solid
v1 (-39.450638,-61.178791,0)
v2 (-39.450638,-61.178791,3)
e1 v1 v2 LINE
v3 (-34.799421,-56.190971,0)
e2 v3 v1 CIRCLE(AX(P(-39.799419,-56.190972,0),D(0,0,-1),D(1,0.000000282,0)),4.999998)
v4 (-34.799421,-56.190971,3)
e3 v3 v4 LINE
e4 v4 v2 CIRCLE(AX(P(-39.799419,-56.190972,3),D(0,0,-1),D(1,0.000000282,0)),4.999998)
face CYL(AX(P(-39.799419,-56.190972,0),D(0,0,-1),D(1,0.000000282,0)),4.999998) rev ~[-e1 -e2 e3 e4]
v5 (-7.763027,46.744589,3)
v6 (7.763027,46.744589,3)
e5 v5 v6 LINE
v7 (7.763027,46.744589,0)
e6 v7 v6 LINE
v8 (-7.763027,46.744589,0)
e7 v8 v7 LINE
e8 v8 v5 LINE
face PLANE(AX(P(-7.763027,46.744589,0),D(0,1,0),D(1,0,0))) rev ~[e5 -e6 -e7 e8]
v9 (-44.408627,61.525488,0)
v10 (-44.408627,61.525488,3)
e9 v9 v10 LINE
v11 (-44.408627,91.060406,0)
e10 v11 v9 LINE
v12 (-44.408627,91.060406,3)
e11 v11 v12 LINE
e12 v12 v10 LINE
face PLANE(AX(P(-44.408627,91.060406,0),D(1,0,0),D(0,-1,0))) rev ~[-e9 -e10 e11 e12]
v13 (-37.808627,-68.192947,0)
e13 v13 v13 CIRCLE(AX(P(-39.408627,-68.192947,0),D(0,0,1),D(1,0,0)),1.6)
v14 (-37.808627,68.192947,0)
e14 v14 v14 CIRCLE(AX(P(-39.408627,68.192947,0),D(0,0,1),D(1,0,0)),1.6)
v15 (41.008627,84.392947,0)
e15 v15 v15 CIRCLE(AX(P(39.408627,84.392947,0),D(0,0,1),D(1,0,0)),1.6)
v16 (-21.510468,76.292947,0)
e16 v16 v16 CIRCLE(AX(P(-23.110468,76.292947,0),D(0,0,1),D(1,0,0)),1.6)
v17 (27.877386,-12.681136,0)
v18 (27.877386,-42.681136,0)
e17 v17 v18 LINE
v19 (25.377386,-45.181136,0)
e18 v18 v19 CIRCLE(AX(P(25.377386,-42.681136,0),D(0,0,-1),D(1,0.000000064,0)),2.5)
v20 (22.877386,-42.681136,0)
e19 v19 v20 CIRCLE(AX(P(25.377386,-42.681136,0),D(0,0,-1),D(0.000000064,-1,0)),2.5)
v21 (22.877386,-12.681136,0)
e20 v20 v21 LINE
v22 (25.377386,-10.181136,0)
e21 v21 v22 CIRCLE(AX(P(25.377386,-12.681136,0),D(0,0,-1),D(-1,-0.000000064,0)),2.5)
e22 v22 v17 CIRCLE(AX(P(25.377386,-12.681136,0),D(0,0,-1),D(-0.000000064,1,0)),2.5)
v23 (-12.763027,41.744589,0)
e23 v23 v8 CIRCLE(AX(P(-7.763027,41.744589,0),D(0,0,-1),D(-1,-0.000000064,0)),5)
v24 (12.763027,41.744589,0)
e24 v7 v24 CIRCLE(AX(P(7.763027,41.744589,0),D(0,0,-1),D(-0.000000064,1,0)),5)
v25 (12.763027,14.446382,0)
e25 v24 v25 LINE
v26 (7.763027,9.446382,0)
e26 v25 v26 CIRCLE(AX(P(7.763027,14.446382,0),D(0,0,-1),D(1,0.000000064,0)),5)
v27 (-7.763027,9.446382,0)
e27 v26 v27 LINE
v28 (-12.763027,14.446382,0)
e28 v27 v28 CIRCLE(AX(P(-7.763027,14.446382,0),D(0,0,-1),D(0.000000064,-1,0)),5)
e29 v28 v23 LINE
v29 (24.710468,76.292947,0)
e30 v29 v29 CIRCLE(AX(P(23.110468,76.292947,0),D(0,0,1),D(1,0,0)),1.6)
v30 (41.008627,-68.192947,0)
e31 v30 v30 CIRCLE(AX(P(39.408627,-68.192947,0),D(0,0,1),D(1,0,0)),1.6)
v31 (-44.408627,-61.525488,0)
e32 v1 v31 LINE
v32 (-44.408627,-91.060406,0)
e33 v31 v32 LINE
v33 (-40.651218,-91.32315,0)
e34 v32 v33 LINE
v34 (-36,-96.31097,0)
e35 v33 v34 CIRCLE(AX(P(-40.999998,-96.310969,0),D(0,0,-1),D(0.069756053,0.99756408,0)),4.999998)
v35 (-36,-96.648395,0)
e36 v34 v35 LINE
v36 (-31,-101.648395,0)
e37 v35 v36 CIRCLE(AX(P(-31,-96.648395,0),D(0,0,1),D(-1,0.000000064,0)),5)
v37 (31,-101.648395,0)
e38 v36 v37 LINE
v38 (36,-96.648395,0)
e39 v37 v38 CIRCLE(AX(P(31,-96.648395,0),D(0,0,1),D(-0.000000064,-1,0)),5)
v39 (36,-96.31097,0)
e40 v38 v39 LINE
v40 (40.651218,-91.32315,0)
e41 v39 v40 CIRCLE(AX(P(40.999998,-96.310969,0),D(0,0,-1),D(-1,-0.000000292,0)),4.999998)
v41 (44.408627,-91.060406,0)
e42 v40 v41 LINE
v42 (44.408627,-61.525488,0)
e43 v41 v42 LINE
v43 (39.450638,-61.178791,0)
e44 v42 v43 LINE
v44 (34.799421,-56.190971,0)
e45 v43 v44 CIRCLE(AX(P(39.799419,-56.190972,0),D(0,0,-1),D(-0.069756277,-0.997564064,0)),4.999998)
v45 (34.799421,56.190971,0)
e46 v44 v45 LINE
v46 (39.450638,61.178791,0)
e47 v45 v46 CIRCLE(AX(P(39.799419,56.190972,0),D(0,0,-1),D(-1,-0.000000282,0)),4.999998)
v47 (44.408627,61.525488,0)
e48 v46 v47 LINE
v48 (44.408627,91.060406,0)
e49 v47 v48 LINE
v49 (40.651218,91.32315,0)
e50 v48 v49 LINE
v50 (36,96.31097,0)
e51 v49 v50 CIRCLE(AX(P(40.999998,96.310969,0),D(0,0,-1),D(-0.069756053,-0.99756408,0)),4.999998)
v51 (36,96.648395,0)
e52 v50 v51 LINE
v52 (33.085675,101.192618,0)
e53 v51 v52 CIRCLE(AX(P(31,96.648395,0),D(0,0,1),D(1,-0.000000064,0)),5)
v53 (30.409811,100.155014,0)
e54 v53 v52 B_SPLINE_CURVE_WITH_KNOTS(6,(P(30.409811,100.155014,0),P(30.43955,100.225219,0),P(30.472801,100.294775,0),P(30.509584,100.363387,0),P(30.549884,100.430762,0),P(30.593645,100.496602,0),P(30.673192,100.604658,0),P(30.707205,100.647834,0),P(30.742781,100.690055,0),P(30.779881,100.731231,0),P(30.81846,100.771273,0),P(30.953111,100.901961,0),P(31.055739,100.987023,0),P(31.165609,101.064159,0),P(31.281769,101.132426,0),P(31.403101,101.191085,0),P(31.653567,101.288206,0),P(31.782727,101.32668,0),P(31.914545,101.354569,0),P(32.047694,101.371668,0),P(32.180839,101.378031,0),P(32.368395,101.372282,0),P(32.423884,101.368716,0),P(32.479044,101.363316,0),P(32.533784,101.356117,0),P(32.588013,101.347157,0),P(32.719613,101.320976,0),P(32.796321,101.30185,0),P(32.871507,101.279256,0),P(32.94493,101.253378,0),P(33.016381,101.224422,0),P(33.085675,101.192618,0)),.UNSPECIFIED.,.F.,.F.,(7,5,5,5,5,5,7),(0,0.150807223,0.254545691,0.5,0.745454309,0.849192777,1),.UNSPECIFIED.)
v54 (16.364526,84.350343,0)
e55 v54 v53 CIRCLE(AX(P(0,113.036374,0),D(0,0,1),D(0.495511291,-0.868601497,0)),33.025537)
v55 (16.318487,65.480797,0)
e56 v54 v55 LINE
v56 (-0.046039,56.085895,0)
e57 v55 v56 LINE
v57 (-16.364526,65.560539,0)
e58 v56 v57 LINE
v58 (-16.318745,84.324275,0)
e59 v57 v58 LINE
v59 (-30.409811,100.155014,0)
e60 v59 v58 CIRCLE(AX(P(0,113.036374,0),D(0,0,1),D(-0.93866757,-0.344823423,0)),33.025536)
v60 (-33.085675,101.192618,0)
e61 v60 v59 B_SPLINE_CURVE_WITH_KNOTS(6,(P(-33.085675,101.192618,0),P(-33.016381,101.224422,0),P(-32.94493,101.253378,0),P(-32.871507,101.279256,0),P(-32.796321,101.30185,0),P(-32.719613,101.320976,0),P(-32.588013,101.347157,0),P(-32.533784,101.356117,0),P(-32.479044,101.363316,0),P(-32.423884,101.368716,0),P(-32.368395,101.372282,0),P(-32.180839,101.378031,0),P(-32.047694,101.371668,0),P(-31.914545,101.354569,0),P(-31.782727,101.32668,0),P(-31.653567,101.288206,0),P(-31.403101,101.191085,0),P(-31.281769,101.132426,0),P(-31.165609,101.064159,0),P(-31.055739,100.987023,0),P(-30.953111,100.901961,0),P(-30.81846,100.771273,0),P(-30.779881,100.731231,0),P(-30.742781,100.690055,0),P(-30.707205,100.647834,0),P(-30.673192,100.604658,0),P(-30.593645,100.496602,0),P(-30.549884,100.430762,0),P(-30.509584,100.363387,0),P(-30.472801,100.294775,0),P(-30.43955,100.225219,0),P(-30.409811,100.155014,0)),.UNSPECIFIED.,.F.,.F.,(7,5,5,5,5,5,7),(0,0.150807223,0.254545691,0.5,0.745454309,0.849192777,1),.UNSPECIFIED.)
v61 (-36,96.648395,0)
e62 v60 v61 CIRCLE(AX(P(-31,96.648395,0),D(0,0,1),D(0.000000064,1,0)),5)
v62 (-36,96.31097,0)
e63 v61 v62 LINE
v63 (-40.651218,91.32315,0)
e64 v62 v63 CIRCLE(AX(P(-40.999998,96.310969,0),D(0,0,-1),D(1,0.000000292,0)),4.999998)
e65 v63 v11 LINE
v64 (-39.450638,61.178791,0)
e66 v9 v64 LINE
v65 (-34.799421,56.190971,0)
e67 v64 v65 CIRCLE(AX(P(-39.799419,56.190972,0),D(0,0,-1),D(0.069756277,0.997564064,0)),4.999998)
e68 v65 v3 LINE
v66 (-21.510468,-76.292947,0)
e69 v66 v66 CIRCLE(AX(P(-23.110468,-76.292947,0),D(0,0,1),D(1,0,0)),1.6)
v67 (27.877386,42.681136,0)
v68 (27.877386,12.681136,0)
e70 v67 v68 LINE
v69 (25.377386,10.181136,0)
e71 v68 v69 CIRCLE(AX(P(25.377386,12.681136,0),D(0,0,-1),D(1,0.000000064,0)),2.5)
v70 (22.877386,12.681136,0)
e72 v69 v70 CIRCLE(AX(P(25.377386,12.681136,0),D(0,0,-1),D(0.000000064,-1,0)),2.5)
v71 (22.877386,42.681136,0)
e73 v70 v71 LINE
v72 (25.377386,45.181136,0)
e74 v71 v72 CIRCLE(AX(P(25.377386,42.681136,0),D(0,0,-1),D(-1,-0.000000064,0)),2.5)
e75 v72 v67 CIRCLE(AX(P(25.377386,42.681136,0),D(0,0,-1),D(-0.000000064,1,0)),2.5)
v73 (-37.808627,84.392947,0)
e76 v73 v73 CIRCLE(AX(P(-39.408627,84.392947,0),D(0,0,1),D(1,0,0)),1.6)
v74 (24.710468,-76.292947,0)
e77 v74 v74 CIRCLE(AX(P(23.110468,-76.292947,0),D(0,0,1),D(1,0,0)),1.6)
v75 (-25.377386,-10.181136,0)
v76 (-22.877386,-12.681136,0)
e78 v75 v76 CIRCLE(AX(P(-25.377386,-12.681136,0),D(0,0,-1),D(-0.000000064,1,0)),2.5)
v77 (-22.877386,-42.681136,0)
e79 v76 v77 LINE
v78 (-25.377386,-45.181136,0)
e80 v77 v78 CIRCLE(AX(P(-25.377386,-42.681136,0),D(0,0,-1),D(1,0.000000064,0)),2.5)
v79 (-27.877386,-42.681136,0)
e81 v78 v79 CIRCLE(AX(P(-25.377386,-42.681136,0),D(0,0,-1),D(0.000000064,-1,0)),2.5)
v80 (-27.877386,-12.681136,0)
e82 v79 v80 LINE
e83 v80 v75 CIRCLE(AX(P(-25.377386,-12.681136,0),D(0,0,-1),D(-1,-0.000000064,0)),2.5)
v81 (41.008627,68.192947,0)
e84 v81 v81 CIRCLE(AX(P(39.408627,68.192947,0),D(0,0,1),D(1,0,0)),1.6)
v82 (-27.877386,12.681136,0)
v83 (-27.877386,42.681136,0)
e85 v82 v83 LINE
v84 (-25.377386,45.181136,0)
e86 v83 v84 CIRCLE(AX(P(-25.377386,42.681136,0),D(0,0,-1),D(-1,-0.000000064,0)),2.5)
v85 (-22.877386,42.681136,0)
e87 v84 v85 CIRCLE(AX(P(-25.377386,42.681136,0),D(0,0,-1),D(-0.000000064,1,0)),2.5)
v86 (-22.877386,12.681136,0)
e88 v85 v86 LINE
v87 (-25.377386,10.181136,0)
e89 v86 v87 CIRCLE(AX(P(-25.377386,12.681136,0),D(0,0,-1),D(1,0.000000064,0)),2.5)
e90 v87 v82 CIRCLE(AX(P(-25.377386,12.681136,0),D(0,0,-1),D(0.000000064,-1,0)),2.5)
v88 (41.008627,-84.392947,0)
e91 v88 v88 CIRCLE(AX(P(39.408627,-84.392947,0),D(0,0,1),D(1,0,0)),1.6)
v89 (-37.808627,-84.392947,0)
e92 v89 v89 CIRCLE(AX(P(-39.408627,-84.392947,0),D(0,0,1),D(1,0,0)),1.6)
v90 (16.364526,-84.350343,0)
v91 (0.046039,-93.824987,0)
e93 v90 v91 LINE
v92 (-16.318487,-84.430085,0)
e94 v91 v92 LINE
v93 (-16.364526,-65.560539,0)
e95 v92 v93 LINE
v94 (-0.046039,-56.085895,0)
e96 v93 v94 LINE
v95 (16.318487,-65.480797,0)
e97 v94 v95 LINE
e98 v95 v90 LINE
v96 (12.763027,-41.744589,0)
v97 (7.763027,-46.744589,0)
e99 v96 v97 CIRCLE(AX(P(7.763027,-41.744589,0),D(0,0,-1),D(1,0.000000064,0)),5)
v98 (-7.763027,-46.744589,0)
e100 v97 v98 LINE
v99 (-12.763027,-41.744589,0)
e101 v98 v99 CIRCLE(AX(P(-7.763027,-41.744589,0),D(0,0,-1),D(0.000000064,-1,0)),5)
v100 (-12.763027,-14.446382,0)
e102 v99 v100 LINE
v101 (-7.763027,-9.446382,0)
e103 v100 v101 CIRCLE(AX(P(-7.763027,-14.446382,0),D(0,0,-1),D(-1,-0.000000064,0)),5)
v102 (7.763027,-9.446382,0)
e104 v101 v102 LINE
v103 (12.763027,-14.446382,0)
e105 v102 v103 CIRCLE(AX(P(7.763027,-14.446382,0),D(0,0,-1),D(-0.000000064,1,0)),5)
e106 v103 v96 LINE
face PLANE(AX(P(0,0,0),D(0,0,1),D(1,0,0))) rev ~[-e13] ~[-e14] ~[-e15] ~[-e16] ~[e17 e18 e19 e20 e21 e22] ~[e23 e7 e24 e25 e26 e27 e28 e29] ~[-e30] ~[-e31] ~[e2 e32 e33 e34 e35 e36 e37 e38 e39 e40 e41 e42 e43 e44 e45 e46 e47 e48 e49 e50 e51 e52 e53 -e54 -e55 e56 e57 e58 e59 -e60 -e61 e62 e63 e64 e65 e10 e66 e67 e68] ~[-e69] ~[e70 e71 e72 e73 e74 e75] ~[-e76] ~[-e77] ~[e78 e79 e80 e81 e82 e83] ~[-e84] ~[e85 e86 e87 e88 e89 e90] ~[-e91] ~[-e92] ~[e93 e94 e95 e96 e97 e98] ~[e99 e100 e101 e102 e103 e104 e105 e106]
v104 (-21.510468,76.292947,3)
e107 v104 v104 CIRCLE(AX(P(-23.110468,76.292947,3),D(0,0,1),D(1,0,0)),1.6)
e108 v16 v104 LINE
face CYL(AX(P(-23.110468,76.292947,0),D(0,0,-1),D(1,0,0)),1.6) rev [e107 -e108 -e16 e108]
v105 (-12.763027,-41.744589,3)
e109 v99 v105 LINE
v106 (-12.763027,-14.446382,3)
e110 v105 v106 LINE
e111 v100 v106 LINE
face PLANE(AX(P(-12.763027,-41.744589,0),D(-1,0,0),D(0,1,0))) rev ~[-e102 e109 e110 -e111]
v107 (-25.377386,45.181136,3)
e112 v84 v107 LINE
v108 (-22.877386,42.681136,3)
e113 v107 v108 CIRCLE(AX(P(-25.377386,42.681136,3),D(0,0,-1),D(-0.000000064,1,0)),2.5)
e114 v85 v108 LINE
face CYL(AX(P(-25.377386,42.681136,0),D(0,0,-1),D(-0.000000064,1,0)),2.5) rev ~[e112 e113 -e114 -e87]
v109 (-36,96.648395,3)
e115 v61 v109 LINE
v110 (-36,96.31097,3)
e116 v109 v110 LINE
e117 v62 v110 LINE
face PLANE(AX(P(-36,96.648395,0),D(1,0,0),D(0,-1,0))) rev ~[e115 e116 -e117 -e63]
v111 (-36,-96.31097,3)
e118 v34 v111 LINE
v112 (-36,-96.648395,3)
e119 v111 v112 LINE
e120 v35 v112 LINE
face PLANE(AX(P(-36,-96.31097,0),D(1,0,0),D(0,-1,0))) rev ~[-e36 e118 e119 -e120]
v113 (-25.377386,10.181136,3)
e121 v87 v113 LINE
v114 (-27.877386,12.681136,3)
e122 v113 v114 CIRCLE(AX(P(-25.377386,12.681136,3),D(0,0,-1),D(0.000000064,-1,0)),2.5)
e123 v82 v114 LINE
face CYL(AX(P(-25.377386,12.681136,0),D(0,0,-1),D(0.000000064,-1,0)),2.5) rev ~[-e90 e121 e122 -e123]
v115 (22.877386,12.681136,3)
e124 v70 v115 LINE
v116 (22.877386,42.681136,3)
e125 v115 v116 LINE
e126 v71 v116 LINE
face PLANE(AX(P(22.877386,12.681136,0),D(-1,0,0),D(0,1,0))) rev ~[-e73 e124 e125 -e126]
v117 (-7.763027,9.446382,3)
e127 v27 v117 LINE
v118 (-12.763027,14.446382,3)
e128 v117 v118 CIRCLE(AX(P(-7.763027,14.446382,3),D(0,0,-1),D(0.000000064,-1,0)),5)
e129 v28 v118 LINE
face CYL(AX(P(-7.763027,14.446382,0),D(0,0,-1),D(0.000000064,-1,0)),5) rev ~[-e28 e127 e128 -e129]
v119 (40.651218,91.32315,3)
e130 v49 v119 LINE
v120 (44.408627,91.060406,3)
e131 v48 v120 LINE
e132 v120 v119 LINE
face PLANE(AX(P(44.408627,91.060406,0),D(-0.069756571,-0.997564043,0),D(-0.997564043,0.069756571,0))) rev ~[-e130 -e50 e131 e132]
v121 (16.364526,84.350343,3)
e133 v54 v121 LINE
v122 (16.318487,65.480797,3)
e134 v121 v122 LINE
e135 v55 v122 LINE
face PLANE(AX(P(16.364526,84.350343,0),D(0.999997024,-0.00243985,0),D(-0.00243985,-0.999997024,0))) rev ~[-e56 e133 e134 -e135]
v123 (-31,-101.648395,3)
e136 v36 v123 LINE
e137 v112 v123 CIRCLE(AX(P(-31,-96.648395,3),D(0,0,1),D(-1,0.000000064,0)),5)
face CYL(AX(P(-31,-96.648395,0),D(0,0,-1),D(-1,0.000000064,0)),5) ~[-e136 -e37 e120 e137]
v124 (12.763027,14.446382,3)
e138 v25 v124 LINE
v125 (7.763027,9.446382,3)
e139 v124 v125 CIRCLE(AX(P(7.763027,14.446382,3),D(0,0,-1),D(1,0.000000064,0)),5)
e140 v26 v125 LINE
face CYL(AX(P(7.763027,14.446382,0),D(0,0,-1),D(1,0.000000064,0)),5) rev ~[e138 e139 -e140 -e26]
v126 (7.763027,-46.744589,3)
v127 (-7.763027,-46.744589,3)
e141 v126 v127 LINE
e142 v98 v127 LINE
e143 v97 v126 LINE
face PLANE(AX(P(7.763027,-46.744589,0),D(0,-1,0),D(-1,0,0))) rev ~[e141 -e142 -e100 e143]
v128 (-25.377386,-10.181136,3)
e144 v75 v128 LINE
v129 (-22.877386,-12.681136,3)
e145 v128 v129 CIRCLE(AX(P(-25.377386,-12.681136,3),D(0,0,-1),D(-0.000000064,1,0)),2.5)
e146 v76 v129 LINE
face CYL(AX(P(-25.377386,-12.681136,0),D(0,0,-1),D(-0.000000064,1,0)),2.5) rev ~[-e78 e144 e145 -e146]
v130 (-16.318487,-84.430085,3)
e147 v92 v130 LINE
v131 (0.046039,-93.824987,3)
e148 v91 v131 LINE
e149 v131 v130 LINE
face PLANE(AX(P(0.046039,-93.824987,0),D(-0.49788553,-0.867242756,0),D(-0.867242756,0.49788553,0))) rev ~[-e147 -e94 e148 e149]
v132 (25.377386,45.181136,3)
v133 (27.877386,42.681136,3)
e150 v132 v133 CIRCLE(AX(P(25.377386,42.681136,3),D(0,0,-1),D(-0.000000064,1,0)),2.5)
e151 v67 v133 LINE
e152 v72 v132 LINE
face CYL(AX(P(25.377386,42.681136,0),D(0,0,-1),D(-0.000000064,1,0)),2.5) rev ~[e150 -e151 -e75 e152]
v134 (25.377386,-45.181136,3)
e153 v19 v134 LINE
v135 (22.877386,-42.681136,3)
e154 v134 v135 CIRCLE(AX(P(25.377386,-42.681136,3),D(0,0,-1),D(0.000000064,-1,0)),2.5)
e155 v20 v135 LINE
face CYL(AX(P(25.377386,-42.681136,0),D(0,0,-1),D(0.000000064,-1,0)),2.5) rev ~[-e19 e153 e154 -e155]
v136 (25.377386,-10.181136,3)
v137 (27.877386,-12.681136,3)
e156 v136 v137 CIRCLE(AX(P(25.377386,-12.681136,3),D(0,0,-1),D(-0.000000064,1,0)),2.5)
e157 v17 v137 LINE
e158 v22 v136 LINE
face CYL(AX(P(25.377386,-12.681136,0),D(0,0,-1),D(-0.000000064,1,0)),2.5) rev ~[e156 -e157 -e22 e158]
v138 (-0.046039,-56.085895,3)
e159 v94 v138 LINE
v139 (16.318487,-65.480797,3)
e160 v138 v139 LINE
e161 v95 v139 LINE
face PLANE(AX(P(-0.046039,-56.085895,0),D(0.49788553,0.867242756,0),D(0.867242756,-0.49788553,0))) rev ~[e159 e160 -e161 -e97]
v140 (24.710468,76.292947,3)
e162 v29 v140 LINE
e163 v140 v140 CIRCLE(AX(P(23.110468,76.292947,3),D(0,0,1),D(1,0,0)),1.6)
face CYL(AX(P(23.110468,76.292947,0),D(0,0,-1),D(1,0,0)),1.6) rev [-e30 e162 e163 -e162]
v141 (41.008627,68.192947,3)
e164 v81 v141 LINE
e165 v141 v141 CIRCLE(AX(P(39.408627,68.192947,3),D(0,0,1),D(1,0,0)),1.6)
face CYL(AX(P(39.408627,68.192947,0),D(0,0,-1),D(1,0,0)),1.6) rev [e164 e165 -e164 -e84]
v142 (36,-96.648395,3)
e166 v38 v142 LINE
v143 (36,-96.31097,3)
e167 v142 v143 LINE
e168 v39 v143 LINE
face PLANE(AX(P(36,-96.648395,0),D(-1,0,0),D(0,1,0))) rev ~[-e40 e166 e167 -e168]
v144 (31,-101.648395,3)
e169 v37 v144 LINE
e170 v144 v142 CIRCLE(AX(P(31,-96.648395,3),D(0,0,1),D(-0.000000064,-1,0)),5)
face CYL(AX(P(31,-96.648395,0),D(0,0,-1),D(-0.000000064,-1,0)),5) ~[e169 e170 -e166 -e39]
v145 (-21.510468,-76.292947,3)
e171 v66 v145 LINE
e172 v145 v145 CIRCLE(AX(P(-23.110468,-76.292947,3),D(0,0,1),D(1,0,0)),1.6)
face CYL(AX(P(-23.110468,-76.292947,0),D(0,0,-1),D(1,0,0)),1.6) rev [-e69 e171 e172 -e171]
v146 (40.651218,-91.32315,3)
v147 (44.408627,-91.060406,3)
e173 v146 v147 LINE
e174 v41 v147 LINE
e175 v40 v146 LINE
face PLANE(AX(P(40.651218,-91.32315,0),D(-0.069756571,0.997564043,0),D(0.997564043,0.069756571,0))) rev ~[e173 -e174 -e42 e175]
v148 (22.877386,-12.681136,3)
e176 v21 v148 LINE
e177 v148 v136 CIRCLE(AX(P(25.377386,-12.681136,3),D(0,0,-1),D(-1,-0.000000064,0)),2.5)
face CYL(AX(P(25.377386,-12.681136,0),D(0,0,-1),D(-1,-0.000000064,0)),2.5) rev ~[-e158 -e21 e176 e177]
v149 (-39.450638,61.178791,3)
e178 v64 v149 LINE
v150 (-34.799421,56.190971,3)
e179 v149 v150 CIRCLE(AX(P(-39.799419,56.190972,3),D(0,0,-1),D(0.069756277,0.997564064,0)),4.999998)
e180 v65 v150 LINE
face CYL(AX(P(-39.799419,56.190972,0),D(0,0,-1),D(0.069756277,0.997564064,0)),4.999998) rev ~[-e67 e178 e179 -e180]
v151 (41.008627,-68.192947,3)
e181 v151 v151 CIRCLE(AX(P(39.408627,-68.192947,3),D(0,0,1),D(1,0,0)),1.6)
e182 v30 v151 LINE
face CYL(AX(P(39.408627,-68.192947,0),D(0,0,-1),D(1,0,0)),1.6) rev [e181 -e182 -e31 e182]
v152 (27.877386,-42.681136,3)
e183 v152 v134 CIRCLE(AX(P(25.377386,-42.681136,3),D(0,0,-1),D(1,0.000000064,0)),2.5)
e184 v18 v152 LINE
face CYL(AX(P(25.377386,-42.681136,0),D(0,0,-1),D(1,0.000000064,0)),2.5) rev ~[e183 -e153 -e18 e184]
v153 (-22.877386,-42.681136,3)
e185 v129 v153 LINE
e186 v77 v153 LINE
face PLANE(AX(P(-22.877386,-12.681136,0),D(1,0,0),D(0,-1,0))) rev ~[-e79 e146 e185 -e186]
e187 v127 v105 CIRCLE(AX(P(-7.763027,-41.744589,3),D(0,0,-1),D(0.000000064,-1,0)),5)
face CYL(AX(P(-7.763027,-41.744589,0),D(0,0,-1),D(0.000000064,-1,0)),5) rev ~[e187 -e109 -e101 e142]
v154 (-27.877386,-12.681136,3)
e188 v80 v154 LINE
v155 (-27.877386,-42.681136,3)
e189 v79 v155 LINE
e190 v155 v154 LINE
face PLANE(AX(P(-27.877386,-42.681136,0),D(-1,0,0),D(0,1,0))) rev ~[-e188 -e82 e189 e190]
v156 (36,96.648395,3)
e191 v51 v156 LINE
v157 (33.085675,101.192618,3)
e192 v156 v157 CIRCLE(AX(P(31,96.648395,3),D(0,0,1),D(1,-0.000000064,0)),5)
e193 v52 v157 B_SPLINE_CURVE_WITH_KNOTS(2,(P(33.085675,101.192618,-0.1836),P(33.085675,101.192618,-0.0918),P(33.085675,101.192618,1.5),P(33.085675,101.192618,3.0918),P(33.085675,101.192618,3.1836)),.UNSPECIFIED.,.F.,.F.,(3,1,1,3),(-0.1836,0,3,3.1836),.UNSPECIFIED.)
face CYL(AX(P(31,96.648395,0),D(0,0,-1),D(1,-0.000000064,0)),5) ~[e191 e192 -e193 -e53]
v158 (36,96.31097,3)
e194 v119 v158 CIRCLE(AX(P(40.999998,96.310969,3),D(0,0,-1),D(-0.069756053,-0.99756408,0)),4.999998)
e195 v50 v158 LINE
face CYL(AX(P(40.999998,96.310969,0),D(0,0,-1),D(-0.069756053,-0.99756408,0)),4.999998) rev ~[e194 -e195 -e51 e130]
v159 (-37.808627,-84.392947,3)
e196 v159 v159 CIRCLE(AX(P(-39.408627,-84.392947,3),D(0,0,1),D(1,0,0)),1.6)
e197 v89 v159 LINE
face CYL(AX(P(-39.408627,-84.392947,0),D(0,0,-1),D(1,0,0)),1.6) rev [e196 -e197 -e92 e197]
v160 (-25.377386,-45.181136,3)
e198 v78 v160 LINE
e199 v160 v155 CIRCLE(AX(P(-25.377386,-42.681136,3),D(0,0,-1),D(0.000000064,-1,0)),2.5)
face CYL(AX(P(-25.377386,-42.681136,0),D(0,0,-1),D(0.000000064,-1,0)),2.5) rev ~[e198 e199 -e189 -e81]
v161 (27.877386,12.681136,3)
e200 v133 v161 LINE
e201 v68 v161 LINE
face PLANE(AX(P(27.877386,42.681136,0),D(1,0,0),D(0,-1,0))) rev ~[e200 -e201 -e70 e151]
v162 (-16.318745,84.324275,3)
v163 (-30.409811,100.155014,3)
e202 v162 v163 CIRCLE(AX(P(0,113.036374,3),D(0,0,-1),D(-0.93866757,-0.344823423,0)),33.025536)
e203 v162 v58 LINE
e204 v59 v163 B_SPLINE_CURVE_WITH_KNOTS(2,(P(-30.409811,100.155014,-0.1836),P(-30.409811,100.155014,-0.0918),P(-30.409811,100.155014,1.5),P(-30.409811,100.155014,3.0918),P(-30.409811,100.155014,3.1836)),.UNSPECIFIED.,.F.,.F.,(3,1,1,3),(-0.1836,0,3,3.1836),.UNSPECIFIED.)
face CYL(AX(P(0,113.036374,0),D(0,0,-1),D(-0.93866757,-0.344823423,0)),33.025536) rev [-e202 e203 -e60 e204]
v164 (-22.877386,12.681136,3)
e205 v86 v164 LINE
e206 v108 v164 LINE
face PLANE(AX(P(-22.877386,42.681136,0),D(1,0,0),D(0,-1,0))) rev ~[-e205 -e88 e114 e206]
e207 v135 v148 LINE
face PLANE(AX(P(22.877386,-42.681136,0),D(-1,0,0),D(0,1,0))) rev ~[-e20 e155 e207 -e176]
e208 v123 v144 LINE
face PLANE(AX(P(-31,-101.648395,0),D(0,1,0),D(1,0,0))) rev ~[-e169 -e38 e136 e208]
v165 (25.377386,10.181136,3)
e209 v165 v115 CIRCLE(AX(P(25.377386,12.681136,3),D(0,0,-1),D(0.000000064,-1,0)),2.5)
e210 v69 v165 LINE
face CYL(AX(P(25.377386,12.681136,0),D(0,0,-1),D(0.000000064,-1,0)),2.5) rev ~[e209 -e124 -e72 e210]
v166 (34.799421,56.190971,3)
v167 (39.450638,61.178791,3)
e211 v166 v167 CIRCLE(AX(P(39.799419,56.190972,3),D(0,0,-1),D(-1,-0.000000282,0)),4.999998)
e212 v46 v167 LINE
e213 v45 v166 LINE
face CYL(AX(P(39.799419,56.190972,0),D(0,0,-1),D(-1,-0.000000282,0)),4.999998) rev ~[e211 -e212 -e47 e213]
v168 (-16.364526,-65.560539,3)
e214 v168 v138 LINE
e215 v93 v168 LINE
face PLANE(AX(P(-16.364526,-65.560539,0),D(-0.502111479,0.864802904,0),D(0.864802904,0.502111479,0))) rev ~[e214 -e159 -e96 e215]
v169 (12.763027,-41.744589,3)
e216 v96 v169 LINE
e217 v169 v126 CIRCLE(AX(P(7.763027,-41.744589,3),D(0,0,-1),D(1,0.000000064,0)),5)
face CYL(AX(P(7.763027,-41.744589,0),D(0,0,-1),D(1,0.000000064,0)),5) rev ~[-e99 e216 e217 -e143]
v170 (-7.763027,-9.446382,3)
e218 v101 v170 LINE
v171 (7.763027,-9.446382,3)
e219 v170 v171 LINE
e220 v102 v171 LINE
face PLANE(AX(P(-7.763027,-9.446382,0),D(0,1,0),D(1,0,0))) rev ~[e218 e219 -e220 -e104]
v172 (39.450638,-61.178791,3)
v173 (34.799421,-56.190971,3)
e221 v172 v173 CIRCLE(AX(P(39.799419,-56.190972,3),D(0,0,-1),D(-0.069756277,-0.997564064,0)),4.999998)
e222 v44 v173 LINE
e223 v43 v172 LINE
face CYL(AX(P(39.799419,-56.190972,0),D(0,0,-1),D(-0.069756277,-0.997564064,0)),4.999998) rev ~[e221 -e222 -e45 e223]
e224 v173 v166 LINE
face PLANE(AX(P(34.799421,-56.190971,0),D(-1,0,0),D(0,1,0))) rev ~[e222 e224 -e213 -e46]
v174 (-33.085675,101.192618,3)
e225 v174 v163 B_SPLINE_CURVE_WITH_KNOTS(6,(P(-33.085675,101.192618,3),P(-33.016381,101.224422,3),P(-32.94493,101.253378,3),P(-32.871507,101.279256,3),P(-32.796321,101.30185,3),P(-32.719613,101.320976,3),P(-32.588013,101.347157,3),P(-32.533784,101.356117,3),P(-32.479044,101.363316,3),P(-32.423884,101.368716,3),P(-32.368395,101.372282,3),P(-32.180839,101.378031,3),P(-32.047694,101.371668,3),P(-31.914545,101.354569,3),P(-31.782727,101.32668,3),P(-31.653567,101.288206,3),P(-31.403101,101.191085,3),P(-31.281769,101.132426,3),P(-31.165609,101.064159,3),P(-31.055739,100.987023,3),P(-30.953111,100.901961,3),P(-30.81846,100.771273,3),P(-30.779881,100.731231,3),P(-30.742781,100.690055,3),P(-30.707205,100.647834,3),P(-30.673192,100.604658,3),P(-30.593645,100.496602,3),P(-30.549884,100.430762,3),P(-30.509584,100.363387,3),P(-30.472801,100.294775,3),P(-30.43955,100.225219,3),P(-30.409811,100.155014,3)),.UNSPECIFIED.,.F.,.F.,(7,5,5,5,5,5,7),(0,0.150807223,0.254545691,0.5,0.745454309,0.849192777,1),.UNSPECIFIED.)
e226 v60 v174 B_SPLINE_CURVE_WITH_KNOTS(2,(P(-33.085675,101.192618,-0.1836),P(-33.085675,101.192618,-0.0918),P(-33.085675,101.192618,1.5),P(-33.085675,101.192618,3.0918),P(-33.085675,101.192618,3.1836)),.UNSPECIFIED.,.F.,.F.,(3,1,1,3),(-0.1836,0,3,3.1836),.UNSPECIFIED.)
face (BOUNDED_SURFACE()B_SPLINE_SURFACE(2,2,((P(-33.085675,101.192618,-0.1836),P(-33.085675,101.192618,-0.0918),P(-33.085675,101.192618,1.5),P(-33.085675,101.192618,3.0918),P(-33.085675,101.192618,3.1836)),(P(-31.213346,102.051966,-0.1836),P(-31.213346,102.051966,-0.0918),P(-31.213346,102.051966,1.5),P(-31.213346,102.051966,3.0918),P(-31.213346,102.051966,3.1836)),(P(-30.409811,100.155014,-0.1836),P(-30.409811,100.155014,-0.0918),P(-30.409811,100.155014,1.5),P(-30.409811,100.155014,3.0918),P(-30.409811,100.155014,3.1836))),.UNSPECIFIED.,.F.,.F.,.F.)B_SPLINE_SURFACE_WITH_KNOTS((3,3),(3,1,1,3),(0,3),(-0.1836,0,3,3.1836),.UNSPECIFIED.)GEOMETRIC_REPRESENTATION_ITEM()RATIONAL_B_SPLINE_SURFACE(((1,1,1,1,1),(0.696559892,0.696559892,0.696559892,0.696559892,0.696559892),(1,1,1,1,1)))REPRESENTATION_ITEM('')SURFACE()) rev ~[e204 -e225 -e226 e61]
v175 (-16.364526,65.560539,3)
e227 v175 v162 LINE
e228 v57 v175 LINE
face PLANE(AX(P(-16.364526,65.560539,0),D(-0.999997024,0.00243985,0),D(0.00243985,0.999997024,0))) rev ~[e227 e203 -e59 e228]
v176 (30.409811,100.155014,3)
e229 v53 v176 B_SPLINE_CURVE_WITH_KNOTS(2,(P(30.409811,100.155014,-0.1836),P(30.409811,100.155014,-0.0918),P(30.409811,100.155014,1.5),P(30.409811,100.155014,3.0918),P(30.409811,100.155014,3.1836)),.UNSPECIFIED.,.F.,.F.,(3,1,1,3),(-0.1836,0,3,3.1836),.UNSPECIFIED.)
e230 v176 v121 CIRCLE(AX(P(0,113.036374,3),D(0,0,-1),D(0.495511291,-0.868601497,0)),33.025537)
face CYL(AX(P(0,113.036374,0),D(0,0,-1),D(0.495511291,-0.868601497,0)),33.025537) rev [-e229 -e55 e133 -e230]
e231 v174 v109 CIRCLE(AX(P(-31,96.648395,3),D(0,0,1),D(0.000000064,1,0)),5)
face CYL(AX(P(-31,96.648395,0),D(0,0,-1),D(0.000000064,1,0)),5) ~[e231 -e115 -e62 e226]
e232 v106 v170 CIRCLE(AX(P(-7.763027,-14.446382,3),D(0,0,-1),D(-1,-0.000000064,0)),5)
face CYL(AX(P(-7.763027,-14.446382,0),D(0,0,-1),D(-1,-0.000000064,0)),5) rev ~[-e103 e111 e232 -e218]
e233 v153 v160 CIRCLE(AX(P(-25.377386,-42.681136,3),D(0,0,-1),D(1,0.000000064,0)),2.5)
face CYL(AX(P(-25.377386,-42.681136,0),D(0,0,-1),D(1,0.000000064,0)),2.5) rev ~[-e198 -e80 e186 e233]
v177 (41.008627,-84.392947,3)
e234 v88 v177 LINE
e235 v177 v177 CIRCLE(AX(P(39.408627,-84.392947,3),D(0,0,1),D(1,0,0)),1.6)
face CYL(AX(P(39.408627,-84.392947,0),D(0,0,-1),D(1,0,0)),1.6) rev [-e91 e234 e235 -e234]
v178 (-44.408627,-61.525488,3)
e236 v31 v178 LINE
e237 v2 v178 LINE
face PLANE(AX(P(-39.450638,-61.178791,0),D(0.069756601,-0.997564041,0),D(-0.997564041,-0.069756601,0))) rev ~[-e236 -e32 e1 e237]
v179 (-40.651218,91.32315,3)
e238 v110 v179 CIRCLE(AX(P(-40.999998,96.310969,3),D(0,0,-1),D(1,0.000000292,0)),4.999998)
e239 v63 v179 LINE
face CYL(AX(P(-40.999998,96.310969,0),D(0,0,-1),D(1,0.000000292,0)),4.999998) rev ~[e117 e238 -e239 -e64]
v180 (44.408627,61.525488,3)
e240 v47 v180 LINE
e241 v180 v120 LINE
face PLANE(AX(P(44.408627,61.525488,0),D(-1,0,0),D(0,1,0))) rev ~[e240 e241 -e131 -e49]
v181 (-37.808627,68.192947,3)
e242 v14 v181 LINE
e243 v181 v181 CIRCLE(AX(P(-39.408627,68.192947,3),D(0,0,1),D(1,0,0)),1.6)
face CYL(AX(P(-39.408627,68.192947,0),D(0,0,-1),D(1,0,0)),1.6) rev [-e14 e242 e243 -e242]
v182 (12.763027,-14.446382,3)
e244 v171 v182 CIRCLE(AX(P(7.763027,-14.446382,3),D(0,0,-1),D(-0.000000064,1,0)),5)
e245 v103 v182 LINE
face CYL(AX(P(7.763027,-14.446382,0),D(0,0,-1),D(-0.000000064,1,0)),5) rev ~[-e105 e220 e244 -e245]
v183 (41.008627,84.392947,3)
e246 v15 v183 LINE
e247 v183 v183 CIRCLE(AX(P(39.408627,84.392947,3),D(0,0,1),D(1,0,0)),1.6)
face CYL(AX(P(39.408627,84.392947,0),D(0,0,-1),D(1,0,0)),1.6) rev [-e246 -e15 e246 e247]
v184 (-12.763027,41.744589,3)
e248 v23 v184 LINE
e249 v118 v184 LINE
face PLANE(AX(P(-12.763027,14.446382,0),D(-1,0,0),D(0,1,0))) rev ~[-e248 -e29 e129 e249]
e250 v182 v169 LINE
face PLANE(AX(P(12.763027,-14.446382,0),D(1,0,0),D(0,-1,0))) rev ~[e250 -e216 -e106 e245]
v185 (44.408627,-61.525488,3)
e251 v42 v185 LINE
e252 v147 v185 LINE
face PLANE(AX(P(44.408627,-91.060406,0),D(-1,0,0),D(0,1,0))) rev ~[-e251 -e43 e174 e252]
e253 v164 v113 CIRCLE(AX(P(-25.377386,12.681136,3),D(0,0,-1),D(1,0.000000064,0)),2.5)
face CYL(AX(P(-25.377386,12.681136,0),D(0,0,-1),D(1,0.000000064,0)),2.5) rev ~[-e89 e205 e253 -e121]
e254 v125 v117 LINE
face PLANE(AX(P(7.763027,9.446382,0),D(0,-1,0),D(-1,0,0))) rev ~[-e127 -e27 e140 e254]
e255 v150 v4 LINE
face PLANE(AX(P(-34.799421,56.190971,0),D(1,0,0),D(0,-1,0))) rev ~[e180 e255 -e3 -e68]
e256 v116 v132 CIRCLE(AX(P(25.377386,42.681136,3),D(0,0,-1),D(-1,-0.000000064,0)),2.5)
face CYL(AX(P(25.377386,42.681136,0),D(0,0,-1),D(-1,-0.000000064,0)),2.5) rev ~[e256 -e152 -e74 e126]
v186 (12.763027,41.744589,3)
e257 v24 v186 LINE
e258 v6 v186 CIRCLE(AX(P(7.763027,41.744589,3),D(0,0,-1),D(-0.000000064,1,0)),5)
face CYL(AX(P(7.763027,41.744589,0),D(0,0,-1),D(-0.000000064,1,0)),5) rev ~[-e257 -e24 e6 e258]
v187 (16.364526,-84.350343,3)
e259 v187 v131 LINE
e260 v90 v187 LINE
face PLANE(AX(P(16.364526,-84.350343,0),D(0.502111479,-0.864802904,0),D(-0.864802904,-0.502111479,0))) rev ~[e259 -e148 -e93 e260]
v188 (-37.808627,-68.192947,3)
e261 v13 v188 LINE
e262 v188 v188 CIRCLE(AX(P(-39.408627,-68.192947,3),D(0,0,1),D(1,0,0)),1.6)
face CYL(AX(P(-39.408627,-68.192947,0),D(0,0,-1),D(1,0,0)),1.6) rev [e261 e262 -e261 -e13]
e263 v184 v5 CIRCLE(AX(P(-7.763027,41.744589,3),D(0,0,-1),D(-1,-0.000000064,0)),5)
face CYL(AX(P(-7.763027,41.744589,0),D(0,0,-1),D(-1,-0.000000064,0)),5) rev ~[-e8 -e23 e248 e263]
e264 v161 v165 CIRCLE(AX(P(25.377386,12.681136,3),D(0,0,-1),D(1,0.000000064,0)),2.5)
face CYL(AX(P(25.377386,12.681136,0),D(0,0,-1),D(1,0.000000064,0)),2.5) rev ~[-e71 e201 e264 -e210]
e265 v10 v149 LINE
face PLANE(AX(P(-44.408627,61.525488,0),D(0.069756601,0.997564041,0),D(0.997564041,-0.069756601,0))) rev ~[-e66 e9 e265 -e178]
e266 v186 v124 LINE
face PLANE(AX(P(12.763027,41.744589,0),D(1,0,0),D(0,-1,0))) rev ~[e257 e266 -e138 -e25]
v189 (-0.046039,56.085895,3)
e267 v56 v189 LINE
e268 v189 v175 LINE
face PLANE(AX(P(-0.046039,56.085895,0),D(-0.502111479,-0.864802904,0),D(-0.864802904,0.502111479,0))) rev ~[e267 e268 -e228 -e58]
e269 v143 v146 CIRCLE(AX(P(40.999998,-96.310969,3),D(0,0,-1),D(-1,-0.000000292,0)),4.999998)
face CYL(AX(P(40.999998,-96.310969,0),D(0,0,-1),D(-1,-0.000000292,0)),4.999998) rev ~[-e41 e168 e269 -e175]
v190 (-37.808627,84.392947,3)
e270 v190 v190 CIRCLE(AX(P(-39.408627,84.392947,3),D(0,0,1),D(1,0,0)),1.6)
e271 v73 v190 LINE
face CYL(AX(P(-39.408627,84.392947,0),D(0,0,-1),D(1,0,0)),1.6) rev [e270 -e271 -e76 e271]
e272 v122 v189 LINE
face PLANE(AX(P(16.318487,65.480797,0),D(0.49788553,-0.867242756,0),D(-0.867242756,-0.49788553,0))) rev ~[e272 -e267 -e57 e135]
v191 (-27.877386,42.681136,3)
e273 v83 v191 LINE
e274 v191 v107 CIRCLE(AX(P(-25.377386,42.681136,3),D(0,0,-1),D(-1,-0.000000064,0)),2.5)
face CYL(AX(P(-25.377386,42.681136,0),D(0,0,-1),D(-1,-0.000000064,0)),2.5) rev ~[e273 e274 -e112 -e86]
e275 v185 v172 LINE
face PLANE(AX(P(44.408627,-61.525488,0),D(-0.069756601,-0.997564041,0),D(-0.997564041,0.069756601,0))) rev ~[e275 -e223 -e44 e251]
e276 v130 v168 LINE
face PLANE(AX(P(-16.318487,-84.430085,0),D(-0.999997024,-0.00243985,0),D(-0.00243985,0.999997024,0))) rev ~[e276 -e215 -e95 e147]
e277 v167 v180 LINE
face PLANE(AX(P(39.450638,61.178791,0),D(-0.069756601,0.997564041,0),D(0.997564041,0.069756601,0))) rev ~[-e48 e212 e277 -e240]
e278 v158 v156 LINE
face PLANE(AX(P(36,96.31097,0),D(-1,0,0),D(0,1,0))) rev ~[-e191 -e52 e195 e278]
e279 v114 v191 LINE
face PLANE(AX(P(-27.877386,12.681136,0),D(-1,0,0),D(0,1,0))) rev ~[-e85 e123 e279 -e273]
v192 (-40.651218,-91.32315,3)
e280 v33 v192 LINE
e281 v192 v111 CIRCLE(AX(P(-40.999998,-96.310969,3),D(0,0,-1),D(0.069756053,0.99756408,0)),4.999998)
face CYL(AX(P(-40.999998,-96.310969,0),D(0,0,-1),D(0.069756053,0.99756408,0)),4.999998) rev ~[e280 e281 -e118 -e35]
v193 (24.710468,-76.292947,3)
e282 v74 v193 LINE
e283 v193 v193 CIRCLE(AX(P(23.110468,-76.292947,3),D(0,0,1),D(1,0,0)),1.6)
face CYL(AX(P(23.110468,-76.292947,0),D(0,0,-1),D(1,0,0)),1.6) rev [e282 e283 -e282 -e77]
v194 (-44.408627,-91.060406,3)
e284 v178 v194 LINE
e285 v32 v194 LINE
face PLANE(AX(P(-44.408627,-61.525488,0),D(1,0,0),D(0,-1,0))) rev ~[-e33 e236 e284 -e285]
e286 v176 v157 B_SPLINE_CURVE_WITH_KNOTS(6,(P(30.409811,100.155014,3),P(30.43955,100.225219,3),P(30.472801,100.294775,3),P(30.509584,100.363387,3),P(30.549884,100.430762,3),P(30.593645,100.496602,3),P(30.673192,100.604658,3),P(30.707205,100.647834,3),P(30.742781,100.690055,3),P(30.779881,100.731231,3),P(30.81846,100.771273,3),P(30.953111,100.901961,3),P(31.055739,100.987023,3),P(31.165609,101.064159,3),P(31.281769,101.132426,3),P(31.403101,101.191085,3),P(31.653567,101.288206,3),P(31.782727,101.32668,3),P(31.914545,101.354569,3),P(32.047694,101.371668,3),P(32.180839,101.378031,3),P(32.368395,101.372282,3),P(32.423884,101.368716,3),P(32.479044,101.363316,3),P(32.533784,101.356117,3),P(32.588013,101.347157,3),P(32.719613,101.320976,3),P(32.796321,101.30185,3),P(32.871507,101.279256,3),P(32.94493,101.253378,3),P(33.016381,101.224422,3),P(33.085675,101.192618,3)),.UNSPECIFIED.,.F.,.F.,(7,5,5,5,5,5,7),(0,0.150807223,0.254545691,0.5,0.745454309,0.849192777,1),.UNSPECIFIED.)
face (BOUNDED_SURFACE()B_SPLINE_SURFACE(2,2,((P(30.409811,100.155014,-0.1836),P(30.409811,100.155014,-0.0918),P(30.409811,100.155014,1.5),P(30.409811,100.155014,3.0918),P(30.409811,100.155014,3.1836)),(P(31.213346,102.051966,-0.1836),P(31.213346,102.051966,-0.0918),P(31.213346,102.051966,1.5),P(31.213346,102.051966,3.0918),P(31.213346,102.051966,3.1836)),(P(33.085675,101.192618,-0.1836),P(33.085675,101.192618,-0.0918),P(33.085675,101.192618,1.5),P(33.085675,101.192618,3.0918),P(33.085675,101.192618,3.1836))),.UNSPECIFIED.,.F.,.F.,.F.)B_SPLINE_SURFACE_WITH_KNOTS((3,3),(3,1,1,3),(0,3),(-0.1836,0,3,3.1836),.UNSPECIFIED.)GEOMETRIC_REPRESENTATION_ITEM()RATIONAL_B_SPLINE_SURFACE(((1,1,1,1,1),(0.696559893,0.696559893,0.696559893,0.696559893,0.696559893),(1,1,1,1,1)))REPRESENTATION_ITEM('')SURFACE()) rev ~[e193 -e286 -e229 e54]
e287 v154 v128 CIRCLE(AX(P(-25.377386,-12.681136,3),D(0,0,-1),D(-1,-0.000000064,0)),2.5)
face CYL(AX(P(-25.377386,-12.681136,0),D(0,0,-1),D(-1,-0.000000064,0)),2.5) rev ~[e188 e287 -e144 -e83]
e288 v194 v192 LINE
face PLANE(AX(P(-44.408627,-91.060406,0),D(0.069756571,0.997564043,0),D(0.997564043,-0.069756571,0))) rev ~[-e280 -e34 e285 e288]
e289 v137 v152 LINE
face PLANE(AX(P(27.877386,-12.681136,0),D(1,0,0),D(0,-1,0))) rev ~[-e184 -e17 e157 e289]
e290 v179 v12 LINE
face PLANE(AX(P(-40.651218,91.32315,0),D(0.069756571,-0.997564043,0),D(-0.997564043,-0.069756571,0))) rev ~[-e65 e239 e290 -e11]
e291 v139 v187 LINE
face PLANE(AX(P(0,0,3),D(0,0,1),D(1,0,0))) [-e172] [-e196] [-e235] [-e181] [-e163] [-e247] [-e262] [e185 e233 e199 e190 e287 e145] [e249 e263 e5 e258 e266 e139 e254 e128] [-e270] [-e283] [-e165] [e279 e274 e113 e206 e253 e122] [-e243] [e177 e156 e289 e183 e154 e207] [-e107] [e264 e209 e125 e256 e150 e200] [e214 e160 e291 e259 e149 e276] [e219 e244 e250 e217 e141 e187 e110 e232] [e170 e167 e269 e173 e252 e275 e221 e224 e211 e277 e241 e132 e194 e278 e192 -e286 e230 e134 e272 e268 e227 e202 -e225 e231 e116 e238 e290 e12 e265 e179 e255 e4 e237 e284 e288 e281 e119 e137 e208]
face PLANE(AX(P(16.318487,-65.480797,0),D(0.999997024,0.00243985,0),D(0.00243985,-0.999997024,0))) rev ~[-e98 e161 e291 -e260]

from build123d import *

# Parameters (mm, degrees)
F0_R     = 1.6
F1_DEPTH = 3
F3_DEPTH = 25
F4_R     = 2


with BuildPart() as f1:
    # F0 (on Top) → F1 (new body)
    with BuildSketch(Plane.XY):
        with BuildLine():
            Line((-44.408627, -61.525488), (-44.408627, -91.060406))
            Line((-44.408627, -91.060406), (-40.651218, -91.32315))
            ThreePointArc((-40.651218, -91.32315), (-37.343231, -92.900978), (-36, -96.31097))
            Line((-36, -96.31097), (-36, -96.648395))
            ThreePointArc((-36, -96.648395), (-34.535534, -100.183929), (-31, -101.648395))
            Line((-31, -101.648395), (0, -101.648395))
            Line((0, -101.648395), (31, -101.648395))
            ThreePointArc((31, -101.648395), (34.535534, -100.183929), (36, -96.648395))
            Line((36, -96.648395), (36, -96.31097))
            ThreePointArc((36, -96.31097), (37.343231, -92.900978), (40.651218, -91.32315))
            Line((40.651218, -91.32315), (44.408627, -91.060406))
            Line((44.408627, -91.060406), (44.408627, -61.525488))
            Line((44.408627, -61.525488), (39.450638, -61.178791))
            ThreePointArc((39.450638, -61.178791), (36.142652, -59.600963), (34.799421, -56.190971))
            Line((34.799421, -56.190971), (34.799421, 0))
            Line((34.799421, 0), (34.799421, 56.190971))
            ThreePointArc((34.799421, 56.190971), (36.142652, 59.600963), (39.450638, 61.178791))
            Line((39.450638, 61.178791), (44.408627, 61.525488))
            Line((44.408627, 61.525488), (44.408627, 91.060406))
            Line((44.408627, 91.060406), (40.651218, 91.32315))
            ThreePointArc((40.651218, 91.32315), (37.343231, 92.900978), (36, 96.31097))
            Line((36, 96.31097), (36, 96.648395))
            ThreePointArc((36, 96.648395), (34.535534, 100.183929), (31, 101.648395))
            Line((31, 101.648395), (-31, 101.648395))
            ThreePointArc((-31, 101.648395), (-34.535534, 100.183929), (-36, 96.648395))
            Line((-36, 96.648395), (-36, 96.31097))
            ThreePointArc((-36, 96.31097), (-37.343231, 92.900978), (-40.651218, 91.32315))
            Line((-40.651218, 91.32315), (-44.408627, 91.060406))
            Line((-44.408627, 91.060406), (-44.408627, 61.525488))
            Line((-44.408627, 61.525488), (-39.450638, 61.178791))
            ThreePointArc((-39.450638, 61.178791), (-36.142652, 59.600963), (-34.799421, 56.190971))
            Line((-34.799421, 56.190971), (-34.799421, 0))
            Line((-34.799421, 0), (-34.799421, -56.190971))
            ThreePointArc((-34.799421, -56.190971), (-36.142652, -59.600963), (-39.450638, -61.178791))
            Line((-39.450638, -61.178791), (-44.408627, -61.525488))
        make_face()
        with Locations((-39.408627, -84.392947)):
            Circle(F0_R, mode=Mode.SUBTRACT)
        with Locations((-23.110468, -76.292947)):
            Circle(F0_R, mode=Mode.SUBTRACT)
        with Locations((-39.408627, -68.192947)):
            Circle(F0_R, mode=Mode.SUBTRACT)
        with BuildLine():
            ThreePointArc((-22.877386, -42.681136), (-23.609619, -44.448903), (-25.377386, -45.181136))
            ThreePointArc((-25.377386, -45.181136), (-27.145153, -44.448903), (-27.877386, -42.681136))
            Line((-27.877386, -42.681136), (-27.877386, -12.681136))
            ThreePointArc((-27.877386, -12.681136), (-27.145153, -10.913369), (-25.377386, -10.181136))
            ThreePointArc((-25.377386, -10.181136), (-23.609619, -10.913369), (-22.877386, -12.681136))
            Line((-22.877386, -12.681136), (-22.877386, -42.681136))
        make_face(mode=Mode.SUBTRACT)
        Polygon((16.318487, -65.480797), (16.364526, -84.350343), (0.046039, -93.824987), (-16.318487, -84.430085), (-16.364526, -65.560539), (-0.046039, -56.085895), align=None, mode=Mode.SUBTRACT)
        with Locations((23.110468, -76.292947)):
            Circle(F0_R, mode=Mode.SUBTRACT)
        with Locations((39.408627, -84.392947)):
            Circle(F0_R, mode=Mode.SUBTRACT)
        with Locations((39.408627, -68.192947)):
            Circle(F0_R, mode=Mode.SUBTRACT)
        with BuildLine():
            ThreePointArc((12.763027, -41.744589), (11.298561, -45.280123), (7.763027, -46.744589))
            Line((7.763027, -46.744589), (-7.763027, -46.744589))
            ThreePointArc((-7.763027, -46.744589), (-11.298561, -45.280123), (-12.763027, -41.744589))
            Line((-12.763027, -41.744589), (-12.763027, -14.446382))
            ThreePointArc((-12.763027, -14.446382), (-11.298561, -10.910848), (-7.763027, -9.446382))
            Line((-7.763027, -9.446382), (7.763027, -9.446382))
            ThreePointArc((7.763027, -9.446382), (11.298561, -10.910848), (12.763027, -14.446382))
            Line((12.763027, -14.446382), (12.763027, -41.744589))
        make_face(mode=Mode.SUBTRACT)
        with BuildLine():
            ThreePointArc((25.377386, -45.181136), (23.609619, -44.448903), (22.877386, -42.681136))
            Line((22.877386, -42.681136), (22.877386, -12.681136))
            ThreePointArc((22.877386, -12.681136), (23.609619, -10.913369), (25.377386, -10.181136))
            ThreePointArc((25.377386, -10.181136), (27.145153, -10.913369), (27.877386, -12.681136))
            Line((27.877386, -12.681136), (27.877386, -42.681136))
            ThreePointArc((27.877386, -42.681136), (27.145153, -44.448903), (25.377386, -45.181136))
        make_face(mode=Mode.SUBTRACT)
        with BuildLine():
            ThreePointArc((-22.877386, 12.681136), (-23.609619, 10.913369), (-25.377386, 10.181136))
            ThreePointArc((-25.377386, 10.181136), (-27.145153, 10.913369), (-27.877386, 12.681136))
            Line((-27.877386, 12.681136), (-27.877386, 42.681136))
            ThreePointArc((-27.877386, 42.681136), (-27.145153, 44.448903), (-25.377386, 45.181136))
            ThreePointArc((-25.377386, 45.181136), (-23.609619, 44.448903), (-22.877386, 42.681136))
            Line((-22.877386, 42.681136), (-22.877386, 12.681136))
        make_face(mode=Mode.SUBTRACT)
        with Locations((-39.408627, 68.192947)):
            Circle(F0_R, mode=Mode.SUBTRACT)
        with Locations((-39.408627, 84.392947)):
            Circle(F0_R, mode=Mode.SUBTRACT)
        with Locations((-23.110468, 76.292947)):
            Circle(F0_R, mode=Mode.SUBTRACT)
        with BuildLine():
            ThreePointArc((12.763027, 14.446382), (11.298561, 10.910848), (7.763027, 9.446382))
            Line((7.763027, 9.446382), (-7.763027, 9.446382))
            ThreePointArc((-7.763027, 9.446382), (-11.298561, 10.910848), (-12.763027, 14.446382))
            Line((-12.763027, 14.446382), (-12.763027, 41.744589))
            ThreePointArc((-12.763027, 41.744589), (-11.298561, 45.280123), (-7.763027, 46.744589))
            Line((-7.763027, 46.744589), (7.763027, 46.744589))
            ThreePointArc((7.763027, 46.744589), (11.298561, 45.280123), (12.763027, 41.744589))
            Line((12.763027, 41.744589), (12.763027, 14.446382))
        make_face(mode=Mode.SUBTRACT)
        with BuildLine():
            ThreePointArc((22.877386, 42.681136), (23.609619, 44.448903), (25.377386, 45.181136))
            ThreePointArc((25.377386, 45.181136), (27.145153, 44.448903), (27.877386, 42.681136))
            Line((27.877386, 42.681136), (27.877386, 12.681136))
            ThreePointArc((27.877386, 12.681136), (27.145153, 10.913369), (25.377386, 10.181136))
            ThreePointArc((25.377386, 10.181136), (23.609619, 10.913369), (22.877386, 12.681136))
            Line((22.877386, 12.681136), (22.877386, 42.681136))
        make_face(mode=Mode.SUBTRACT)
        Polygon((-0.046039, 56.085895), (-16.364526, 65.560539), (-16.318487, 84.430085), (0.046039, 93.824987), (16.364526, 84.350343), (16.318487, 65.480797), align=None, mode=Mode.SUBTRACT)
        with Locations((39.408627, 68.192947)):
            Circle(F0_R, mode=Mode.SUBTRACT)
        with Locations((23.110468, 76.292947)):
            Circle(F0_R, mode=Mode.SUBTRACT)
        with Locations((39.408627, 84.392947)):
            Circle(F0_R, mode=Mode.SUBTRACT)
    extrude(amount=F1_DEPTH)

    # F2 (on Top) → F3 (cut)
    with BuildSketch(Plane.XY):
        with BuildLine():
            Line((31, 101.648395), (-31, 101.648395))
            ThreePointArc((-31, 101.648395), (-11.329383, 82.014911), (16.364526, 84.350343))
            ThreePointArc((16.364526, 84.350343), (25.212204, 91.704922), (31, 101.648395))
        make_face()
    extrude(amount=F3_DEPTH, mode=Mode.SUBTRACT)

    # F4
    f4_edges = [f1.edges().sort_by_distance(p)[0] for p in [
        (31, 101.648395, 1.5),
        (-31, 101.648395, 1.5),
    ]]
    fillet(f4_edges, radius=F4_R)


solid = f1.part
